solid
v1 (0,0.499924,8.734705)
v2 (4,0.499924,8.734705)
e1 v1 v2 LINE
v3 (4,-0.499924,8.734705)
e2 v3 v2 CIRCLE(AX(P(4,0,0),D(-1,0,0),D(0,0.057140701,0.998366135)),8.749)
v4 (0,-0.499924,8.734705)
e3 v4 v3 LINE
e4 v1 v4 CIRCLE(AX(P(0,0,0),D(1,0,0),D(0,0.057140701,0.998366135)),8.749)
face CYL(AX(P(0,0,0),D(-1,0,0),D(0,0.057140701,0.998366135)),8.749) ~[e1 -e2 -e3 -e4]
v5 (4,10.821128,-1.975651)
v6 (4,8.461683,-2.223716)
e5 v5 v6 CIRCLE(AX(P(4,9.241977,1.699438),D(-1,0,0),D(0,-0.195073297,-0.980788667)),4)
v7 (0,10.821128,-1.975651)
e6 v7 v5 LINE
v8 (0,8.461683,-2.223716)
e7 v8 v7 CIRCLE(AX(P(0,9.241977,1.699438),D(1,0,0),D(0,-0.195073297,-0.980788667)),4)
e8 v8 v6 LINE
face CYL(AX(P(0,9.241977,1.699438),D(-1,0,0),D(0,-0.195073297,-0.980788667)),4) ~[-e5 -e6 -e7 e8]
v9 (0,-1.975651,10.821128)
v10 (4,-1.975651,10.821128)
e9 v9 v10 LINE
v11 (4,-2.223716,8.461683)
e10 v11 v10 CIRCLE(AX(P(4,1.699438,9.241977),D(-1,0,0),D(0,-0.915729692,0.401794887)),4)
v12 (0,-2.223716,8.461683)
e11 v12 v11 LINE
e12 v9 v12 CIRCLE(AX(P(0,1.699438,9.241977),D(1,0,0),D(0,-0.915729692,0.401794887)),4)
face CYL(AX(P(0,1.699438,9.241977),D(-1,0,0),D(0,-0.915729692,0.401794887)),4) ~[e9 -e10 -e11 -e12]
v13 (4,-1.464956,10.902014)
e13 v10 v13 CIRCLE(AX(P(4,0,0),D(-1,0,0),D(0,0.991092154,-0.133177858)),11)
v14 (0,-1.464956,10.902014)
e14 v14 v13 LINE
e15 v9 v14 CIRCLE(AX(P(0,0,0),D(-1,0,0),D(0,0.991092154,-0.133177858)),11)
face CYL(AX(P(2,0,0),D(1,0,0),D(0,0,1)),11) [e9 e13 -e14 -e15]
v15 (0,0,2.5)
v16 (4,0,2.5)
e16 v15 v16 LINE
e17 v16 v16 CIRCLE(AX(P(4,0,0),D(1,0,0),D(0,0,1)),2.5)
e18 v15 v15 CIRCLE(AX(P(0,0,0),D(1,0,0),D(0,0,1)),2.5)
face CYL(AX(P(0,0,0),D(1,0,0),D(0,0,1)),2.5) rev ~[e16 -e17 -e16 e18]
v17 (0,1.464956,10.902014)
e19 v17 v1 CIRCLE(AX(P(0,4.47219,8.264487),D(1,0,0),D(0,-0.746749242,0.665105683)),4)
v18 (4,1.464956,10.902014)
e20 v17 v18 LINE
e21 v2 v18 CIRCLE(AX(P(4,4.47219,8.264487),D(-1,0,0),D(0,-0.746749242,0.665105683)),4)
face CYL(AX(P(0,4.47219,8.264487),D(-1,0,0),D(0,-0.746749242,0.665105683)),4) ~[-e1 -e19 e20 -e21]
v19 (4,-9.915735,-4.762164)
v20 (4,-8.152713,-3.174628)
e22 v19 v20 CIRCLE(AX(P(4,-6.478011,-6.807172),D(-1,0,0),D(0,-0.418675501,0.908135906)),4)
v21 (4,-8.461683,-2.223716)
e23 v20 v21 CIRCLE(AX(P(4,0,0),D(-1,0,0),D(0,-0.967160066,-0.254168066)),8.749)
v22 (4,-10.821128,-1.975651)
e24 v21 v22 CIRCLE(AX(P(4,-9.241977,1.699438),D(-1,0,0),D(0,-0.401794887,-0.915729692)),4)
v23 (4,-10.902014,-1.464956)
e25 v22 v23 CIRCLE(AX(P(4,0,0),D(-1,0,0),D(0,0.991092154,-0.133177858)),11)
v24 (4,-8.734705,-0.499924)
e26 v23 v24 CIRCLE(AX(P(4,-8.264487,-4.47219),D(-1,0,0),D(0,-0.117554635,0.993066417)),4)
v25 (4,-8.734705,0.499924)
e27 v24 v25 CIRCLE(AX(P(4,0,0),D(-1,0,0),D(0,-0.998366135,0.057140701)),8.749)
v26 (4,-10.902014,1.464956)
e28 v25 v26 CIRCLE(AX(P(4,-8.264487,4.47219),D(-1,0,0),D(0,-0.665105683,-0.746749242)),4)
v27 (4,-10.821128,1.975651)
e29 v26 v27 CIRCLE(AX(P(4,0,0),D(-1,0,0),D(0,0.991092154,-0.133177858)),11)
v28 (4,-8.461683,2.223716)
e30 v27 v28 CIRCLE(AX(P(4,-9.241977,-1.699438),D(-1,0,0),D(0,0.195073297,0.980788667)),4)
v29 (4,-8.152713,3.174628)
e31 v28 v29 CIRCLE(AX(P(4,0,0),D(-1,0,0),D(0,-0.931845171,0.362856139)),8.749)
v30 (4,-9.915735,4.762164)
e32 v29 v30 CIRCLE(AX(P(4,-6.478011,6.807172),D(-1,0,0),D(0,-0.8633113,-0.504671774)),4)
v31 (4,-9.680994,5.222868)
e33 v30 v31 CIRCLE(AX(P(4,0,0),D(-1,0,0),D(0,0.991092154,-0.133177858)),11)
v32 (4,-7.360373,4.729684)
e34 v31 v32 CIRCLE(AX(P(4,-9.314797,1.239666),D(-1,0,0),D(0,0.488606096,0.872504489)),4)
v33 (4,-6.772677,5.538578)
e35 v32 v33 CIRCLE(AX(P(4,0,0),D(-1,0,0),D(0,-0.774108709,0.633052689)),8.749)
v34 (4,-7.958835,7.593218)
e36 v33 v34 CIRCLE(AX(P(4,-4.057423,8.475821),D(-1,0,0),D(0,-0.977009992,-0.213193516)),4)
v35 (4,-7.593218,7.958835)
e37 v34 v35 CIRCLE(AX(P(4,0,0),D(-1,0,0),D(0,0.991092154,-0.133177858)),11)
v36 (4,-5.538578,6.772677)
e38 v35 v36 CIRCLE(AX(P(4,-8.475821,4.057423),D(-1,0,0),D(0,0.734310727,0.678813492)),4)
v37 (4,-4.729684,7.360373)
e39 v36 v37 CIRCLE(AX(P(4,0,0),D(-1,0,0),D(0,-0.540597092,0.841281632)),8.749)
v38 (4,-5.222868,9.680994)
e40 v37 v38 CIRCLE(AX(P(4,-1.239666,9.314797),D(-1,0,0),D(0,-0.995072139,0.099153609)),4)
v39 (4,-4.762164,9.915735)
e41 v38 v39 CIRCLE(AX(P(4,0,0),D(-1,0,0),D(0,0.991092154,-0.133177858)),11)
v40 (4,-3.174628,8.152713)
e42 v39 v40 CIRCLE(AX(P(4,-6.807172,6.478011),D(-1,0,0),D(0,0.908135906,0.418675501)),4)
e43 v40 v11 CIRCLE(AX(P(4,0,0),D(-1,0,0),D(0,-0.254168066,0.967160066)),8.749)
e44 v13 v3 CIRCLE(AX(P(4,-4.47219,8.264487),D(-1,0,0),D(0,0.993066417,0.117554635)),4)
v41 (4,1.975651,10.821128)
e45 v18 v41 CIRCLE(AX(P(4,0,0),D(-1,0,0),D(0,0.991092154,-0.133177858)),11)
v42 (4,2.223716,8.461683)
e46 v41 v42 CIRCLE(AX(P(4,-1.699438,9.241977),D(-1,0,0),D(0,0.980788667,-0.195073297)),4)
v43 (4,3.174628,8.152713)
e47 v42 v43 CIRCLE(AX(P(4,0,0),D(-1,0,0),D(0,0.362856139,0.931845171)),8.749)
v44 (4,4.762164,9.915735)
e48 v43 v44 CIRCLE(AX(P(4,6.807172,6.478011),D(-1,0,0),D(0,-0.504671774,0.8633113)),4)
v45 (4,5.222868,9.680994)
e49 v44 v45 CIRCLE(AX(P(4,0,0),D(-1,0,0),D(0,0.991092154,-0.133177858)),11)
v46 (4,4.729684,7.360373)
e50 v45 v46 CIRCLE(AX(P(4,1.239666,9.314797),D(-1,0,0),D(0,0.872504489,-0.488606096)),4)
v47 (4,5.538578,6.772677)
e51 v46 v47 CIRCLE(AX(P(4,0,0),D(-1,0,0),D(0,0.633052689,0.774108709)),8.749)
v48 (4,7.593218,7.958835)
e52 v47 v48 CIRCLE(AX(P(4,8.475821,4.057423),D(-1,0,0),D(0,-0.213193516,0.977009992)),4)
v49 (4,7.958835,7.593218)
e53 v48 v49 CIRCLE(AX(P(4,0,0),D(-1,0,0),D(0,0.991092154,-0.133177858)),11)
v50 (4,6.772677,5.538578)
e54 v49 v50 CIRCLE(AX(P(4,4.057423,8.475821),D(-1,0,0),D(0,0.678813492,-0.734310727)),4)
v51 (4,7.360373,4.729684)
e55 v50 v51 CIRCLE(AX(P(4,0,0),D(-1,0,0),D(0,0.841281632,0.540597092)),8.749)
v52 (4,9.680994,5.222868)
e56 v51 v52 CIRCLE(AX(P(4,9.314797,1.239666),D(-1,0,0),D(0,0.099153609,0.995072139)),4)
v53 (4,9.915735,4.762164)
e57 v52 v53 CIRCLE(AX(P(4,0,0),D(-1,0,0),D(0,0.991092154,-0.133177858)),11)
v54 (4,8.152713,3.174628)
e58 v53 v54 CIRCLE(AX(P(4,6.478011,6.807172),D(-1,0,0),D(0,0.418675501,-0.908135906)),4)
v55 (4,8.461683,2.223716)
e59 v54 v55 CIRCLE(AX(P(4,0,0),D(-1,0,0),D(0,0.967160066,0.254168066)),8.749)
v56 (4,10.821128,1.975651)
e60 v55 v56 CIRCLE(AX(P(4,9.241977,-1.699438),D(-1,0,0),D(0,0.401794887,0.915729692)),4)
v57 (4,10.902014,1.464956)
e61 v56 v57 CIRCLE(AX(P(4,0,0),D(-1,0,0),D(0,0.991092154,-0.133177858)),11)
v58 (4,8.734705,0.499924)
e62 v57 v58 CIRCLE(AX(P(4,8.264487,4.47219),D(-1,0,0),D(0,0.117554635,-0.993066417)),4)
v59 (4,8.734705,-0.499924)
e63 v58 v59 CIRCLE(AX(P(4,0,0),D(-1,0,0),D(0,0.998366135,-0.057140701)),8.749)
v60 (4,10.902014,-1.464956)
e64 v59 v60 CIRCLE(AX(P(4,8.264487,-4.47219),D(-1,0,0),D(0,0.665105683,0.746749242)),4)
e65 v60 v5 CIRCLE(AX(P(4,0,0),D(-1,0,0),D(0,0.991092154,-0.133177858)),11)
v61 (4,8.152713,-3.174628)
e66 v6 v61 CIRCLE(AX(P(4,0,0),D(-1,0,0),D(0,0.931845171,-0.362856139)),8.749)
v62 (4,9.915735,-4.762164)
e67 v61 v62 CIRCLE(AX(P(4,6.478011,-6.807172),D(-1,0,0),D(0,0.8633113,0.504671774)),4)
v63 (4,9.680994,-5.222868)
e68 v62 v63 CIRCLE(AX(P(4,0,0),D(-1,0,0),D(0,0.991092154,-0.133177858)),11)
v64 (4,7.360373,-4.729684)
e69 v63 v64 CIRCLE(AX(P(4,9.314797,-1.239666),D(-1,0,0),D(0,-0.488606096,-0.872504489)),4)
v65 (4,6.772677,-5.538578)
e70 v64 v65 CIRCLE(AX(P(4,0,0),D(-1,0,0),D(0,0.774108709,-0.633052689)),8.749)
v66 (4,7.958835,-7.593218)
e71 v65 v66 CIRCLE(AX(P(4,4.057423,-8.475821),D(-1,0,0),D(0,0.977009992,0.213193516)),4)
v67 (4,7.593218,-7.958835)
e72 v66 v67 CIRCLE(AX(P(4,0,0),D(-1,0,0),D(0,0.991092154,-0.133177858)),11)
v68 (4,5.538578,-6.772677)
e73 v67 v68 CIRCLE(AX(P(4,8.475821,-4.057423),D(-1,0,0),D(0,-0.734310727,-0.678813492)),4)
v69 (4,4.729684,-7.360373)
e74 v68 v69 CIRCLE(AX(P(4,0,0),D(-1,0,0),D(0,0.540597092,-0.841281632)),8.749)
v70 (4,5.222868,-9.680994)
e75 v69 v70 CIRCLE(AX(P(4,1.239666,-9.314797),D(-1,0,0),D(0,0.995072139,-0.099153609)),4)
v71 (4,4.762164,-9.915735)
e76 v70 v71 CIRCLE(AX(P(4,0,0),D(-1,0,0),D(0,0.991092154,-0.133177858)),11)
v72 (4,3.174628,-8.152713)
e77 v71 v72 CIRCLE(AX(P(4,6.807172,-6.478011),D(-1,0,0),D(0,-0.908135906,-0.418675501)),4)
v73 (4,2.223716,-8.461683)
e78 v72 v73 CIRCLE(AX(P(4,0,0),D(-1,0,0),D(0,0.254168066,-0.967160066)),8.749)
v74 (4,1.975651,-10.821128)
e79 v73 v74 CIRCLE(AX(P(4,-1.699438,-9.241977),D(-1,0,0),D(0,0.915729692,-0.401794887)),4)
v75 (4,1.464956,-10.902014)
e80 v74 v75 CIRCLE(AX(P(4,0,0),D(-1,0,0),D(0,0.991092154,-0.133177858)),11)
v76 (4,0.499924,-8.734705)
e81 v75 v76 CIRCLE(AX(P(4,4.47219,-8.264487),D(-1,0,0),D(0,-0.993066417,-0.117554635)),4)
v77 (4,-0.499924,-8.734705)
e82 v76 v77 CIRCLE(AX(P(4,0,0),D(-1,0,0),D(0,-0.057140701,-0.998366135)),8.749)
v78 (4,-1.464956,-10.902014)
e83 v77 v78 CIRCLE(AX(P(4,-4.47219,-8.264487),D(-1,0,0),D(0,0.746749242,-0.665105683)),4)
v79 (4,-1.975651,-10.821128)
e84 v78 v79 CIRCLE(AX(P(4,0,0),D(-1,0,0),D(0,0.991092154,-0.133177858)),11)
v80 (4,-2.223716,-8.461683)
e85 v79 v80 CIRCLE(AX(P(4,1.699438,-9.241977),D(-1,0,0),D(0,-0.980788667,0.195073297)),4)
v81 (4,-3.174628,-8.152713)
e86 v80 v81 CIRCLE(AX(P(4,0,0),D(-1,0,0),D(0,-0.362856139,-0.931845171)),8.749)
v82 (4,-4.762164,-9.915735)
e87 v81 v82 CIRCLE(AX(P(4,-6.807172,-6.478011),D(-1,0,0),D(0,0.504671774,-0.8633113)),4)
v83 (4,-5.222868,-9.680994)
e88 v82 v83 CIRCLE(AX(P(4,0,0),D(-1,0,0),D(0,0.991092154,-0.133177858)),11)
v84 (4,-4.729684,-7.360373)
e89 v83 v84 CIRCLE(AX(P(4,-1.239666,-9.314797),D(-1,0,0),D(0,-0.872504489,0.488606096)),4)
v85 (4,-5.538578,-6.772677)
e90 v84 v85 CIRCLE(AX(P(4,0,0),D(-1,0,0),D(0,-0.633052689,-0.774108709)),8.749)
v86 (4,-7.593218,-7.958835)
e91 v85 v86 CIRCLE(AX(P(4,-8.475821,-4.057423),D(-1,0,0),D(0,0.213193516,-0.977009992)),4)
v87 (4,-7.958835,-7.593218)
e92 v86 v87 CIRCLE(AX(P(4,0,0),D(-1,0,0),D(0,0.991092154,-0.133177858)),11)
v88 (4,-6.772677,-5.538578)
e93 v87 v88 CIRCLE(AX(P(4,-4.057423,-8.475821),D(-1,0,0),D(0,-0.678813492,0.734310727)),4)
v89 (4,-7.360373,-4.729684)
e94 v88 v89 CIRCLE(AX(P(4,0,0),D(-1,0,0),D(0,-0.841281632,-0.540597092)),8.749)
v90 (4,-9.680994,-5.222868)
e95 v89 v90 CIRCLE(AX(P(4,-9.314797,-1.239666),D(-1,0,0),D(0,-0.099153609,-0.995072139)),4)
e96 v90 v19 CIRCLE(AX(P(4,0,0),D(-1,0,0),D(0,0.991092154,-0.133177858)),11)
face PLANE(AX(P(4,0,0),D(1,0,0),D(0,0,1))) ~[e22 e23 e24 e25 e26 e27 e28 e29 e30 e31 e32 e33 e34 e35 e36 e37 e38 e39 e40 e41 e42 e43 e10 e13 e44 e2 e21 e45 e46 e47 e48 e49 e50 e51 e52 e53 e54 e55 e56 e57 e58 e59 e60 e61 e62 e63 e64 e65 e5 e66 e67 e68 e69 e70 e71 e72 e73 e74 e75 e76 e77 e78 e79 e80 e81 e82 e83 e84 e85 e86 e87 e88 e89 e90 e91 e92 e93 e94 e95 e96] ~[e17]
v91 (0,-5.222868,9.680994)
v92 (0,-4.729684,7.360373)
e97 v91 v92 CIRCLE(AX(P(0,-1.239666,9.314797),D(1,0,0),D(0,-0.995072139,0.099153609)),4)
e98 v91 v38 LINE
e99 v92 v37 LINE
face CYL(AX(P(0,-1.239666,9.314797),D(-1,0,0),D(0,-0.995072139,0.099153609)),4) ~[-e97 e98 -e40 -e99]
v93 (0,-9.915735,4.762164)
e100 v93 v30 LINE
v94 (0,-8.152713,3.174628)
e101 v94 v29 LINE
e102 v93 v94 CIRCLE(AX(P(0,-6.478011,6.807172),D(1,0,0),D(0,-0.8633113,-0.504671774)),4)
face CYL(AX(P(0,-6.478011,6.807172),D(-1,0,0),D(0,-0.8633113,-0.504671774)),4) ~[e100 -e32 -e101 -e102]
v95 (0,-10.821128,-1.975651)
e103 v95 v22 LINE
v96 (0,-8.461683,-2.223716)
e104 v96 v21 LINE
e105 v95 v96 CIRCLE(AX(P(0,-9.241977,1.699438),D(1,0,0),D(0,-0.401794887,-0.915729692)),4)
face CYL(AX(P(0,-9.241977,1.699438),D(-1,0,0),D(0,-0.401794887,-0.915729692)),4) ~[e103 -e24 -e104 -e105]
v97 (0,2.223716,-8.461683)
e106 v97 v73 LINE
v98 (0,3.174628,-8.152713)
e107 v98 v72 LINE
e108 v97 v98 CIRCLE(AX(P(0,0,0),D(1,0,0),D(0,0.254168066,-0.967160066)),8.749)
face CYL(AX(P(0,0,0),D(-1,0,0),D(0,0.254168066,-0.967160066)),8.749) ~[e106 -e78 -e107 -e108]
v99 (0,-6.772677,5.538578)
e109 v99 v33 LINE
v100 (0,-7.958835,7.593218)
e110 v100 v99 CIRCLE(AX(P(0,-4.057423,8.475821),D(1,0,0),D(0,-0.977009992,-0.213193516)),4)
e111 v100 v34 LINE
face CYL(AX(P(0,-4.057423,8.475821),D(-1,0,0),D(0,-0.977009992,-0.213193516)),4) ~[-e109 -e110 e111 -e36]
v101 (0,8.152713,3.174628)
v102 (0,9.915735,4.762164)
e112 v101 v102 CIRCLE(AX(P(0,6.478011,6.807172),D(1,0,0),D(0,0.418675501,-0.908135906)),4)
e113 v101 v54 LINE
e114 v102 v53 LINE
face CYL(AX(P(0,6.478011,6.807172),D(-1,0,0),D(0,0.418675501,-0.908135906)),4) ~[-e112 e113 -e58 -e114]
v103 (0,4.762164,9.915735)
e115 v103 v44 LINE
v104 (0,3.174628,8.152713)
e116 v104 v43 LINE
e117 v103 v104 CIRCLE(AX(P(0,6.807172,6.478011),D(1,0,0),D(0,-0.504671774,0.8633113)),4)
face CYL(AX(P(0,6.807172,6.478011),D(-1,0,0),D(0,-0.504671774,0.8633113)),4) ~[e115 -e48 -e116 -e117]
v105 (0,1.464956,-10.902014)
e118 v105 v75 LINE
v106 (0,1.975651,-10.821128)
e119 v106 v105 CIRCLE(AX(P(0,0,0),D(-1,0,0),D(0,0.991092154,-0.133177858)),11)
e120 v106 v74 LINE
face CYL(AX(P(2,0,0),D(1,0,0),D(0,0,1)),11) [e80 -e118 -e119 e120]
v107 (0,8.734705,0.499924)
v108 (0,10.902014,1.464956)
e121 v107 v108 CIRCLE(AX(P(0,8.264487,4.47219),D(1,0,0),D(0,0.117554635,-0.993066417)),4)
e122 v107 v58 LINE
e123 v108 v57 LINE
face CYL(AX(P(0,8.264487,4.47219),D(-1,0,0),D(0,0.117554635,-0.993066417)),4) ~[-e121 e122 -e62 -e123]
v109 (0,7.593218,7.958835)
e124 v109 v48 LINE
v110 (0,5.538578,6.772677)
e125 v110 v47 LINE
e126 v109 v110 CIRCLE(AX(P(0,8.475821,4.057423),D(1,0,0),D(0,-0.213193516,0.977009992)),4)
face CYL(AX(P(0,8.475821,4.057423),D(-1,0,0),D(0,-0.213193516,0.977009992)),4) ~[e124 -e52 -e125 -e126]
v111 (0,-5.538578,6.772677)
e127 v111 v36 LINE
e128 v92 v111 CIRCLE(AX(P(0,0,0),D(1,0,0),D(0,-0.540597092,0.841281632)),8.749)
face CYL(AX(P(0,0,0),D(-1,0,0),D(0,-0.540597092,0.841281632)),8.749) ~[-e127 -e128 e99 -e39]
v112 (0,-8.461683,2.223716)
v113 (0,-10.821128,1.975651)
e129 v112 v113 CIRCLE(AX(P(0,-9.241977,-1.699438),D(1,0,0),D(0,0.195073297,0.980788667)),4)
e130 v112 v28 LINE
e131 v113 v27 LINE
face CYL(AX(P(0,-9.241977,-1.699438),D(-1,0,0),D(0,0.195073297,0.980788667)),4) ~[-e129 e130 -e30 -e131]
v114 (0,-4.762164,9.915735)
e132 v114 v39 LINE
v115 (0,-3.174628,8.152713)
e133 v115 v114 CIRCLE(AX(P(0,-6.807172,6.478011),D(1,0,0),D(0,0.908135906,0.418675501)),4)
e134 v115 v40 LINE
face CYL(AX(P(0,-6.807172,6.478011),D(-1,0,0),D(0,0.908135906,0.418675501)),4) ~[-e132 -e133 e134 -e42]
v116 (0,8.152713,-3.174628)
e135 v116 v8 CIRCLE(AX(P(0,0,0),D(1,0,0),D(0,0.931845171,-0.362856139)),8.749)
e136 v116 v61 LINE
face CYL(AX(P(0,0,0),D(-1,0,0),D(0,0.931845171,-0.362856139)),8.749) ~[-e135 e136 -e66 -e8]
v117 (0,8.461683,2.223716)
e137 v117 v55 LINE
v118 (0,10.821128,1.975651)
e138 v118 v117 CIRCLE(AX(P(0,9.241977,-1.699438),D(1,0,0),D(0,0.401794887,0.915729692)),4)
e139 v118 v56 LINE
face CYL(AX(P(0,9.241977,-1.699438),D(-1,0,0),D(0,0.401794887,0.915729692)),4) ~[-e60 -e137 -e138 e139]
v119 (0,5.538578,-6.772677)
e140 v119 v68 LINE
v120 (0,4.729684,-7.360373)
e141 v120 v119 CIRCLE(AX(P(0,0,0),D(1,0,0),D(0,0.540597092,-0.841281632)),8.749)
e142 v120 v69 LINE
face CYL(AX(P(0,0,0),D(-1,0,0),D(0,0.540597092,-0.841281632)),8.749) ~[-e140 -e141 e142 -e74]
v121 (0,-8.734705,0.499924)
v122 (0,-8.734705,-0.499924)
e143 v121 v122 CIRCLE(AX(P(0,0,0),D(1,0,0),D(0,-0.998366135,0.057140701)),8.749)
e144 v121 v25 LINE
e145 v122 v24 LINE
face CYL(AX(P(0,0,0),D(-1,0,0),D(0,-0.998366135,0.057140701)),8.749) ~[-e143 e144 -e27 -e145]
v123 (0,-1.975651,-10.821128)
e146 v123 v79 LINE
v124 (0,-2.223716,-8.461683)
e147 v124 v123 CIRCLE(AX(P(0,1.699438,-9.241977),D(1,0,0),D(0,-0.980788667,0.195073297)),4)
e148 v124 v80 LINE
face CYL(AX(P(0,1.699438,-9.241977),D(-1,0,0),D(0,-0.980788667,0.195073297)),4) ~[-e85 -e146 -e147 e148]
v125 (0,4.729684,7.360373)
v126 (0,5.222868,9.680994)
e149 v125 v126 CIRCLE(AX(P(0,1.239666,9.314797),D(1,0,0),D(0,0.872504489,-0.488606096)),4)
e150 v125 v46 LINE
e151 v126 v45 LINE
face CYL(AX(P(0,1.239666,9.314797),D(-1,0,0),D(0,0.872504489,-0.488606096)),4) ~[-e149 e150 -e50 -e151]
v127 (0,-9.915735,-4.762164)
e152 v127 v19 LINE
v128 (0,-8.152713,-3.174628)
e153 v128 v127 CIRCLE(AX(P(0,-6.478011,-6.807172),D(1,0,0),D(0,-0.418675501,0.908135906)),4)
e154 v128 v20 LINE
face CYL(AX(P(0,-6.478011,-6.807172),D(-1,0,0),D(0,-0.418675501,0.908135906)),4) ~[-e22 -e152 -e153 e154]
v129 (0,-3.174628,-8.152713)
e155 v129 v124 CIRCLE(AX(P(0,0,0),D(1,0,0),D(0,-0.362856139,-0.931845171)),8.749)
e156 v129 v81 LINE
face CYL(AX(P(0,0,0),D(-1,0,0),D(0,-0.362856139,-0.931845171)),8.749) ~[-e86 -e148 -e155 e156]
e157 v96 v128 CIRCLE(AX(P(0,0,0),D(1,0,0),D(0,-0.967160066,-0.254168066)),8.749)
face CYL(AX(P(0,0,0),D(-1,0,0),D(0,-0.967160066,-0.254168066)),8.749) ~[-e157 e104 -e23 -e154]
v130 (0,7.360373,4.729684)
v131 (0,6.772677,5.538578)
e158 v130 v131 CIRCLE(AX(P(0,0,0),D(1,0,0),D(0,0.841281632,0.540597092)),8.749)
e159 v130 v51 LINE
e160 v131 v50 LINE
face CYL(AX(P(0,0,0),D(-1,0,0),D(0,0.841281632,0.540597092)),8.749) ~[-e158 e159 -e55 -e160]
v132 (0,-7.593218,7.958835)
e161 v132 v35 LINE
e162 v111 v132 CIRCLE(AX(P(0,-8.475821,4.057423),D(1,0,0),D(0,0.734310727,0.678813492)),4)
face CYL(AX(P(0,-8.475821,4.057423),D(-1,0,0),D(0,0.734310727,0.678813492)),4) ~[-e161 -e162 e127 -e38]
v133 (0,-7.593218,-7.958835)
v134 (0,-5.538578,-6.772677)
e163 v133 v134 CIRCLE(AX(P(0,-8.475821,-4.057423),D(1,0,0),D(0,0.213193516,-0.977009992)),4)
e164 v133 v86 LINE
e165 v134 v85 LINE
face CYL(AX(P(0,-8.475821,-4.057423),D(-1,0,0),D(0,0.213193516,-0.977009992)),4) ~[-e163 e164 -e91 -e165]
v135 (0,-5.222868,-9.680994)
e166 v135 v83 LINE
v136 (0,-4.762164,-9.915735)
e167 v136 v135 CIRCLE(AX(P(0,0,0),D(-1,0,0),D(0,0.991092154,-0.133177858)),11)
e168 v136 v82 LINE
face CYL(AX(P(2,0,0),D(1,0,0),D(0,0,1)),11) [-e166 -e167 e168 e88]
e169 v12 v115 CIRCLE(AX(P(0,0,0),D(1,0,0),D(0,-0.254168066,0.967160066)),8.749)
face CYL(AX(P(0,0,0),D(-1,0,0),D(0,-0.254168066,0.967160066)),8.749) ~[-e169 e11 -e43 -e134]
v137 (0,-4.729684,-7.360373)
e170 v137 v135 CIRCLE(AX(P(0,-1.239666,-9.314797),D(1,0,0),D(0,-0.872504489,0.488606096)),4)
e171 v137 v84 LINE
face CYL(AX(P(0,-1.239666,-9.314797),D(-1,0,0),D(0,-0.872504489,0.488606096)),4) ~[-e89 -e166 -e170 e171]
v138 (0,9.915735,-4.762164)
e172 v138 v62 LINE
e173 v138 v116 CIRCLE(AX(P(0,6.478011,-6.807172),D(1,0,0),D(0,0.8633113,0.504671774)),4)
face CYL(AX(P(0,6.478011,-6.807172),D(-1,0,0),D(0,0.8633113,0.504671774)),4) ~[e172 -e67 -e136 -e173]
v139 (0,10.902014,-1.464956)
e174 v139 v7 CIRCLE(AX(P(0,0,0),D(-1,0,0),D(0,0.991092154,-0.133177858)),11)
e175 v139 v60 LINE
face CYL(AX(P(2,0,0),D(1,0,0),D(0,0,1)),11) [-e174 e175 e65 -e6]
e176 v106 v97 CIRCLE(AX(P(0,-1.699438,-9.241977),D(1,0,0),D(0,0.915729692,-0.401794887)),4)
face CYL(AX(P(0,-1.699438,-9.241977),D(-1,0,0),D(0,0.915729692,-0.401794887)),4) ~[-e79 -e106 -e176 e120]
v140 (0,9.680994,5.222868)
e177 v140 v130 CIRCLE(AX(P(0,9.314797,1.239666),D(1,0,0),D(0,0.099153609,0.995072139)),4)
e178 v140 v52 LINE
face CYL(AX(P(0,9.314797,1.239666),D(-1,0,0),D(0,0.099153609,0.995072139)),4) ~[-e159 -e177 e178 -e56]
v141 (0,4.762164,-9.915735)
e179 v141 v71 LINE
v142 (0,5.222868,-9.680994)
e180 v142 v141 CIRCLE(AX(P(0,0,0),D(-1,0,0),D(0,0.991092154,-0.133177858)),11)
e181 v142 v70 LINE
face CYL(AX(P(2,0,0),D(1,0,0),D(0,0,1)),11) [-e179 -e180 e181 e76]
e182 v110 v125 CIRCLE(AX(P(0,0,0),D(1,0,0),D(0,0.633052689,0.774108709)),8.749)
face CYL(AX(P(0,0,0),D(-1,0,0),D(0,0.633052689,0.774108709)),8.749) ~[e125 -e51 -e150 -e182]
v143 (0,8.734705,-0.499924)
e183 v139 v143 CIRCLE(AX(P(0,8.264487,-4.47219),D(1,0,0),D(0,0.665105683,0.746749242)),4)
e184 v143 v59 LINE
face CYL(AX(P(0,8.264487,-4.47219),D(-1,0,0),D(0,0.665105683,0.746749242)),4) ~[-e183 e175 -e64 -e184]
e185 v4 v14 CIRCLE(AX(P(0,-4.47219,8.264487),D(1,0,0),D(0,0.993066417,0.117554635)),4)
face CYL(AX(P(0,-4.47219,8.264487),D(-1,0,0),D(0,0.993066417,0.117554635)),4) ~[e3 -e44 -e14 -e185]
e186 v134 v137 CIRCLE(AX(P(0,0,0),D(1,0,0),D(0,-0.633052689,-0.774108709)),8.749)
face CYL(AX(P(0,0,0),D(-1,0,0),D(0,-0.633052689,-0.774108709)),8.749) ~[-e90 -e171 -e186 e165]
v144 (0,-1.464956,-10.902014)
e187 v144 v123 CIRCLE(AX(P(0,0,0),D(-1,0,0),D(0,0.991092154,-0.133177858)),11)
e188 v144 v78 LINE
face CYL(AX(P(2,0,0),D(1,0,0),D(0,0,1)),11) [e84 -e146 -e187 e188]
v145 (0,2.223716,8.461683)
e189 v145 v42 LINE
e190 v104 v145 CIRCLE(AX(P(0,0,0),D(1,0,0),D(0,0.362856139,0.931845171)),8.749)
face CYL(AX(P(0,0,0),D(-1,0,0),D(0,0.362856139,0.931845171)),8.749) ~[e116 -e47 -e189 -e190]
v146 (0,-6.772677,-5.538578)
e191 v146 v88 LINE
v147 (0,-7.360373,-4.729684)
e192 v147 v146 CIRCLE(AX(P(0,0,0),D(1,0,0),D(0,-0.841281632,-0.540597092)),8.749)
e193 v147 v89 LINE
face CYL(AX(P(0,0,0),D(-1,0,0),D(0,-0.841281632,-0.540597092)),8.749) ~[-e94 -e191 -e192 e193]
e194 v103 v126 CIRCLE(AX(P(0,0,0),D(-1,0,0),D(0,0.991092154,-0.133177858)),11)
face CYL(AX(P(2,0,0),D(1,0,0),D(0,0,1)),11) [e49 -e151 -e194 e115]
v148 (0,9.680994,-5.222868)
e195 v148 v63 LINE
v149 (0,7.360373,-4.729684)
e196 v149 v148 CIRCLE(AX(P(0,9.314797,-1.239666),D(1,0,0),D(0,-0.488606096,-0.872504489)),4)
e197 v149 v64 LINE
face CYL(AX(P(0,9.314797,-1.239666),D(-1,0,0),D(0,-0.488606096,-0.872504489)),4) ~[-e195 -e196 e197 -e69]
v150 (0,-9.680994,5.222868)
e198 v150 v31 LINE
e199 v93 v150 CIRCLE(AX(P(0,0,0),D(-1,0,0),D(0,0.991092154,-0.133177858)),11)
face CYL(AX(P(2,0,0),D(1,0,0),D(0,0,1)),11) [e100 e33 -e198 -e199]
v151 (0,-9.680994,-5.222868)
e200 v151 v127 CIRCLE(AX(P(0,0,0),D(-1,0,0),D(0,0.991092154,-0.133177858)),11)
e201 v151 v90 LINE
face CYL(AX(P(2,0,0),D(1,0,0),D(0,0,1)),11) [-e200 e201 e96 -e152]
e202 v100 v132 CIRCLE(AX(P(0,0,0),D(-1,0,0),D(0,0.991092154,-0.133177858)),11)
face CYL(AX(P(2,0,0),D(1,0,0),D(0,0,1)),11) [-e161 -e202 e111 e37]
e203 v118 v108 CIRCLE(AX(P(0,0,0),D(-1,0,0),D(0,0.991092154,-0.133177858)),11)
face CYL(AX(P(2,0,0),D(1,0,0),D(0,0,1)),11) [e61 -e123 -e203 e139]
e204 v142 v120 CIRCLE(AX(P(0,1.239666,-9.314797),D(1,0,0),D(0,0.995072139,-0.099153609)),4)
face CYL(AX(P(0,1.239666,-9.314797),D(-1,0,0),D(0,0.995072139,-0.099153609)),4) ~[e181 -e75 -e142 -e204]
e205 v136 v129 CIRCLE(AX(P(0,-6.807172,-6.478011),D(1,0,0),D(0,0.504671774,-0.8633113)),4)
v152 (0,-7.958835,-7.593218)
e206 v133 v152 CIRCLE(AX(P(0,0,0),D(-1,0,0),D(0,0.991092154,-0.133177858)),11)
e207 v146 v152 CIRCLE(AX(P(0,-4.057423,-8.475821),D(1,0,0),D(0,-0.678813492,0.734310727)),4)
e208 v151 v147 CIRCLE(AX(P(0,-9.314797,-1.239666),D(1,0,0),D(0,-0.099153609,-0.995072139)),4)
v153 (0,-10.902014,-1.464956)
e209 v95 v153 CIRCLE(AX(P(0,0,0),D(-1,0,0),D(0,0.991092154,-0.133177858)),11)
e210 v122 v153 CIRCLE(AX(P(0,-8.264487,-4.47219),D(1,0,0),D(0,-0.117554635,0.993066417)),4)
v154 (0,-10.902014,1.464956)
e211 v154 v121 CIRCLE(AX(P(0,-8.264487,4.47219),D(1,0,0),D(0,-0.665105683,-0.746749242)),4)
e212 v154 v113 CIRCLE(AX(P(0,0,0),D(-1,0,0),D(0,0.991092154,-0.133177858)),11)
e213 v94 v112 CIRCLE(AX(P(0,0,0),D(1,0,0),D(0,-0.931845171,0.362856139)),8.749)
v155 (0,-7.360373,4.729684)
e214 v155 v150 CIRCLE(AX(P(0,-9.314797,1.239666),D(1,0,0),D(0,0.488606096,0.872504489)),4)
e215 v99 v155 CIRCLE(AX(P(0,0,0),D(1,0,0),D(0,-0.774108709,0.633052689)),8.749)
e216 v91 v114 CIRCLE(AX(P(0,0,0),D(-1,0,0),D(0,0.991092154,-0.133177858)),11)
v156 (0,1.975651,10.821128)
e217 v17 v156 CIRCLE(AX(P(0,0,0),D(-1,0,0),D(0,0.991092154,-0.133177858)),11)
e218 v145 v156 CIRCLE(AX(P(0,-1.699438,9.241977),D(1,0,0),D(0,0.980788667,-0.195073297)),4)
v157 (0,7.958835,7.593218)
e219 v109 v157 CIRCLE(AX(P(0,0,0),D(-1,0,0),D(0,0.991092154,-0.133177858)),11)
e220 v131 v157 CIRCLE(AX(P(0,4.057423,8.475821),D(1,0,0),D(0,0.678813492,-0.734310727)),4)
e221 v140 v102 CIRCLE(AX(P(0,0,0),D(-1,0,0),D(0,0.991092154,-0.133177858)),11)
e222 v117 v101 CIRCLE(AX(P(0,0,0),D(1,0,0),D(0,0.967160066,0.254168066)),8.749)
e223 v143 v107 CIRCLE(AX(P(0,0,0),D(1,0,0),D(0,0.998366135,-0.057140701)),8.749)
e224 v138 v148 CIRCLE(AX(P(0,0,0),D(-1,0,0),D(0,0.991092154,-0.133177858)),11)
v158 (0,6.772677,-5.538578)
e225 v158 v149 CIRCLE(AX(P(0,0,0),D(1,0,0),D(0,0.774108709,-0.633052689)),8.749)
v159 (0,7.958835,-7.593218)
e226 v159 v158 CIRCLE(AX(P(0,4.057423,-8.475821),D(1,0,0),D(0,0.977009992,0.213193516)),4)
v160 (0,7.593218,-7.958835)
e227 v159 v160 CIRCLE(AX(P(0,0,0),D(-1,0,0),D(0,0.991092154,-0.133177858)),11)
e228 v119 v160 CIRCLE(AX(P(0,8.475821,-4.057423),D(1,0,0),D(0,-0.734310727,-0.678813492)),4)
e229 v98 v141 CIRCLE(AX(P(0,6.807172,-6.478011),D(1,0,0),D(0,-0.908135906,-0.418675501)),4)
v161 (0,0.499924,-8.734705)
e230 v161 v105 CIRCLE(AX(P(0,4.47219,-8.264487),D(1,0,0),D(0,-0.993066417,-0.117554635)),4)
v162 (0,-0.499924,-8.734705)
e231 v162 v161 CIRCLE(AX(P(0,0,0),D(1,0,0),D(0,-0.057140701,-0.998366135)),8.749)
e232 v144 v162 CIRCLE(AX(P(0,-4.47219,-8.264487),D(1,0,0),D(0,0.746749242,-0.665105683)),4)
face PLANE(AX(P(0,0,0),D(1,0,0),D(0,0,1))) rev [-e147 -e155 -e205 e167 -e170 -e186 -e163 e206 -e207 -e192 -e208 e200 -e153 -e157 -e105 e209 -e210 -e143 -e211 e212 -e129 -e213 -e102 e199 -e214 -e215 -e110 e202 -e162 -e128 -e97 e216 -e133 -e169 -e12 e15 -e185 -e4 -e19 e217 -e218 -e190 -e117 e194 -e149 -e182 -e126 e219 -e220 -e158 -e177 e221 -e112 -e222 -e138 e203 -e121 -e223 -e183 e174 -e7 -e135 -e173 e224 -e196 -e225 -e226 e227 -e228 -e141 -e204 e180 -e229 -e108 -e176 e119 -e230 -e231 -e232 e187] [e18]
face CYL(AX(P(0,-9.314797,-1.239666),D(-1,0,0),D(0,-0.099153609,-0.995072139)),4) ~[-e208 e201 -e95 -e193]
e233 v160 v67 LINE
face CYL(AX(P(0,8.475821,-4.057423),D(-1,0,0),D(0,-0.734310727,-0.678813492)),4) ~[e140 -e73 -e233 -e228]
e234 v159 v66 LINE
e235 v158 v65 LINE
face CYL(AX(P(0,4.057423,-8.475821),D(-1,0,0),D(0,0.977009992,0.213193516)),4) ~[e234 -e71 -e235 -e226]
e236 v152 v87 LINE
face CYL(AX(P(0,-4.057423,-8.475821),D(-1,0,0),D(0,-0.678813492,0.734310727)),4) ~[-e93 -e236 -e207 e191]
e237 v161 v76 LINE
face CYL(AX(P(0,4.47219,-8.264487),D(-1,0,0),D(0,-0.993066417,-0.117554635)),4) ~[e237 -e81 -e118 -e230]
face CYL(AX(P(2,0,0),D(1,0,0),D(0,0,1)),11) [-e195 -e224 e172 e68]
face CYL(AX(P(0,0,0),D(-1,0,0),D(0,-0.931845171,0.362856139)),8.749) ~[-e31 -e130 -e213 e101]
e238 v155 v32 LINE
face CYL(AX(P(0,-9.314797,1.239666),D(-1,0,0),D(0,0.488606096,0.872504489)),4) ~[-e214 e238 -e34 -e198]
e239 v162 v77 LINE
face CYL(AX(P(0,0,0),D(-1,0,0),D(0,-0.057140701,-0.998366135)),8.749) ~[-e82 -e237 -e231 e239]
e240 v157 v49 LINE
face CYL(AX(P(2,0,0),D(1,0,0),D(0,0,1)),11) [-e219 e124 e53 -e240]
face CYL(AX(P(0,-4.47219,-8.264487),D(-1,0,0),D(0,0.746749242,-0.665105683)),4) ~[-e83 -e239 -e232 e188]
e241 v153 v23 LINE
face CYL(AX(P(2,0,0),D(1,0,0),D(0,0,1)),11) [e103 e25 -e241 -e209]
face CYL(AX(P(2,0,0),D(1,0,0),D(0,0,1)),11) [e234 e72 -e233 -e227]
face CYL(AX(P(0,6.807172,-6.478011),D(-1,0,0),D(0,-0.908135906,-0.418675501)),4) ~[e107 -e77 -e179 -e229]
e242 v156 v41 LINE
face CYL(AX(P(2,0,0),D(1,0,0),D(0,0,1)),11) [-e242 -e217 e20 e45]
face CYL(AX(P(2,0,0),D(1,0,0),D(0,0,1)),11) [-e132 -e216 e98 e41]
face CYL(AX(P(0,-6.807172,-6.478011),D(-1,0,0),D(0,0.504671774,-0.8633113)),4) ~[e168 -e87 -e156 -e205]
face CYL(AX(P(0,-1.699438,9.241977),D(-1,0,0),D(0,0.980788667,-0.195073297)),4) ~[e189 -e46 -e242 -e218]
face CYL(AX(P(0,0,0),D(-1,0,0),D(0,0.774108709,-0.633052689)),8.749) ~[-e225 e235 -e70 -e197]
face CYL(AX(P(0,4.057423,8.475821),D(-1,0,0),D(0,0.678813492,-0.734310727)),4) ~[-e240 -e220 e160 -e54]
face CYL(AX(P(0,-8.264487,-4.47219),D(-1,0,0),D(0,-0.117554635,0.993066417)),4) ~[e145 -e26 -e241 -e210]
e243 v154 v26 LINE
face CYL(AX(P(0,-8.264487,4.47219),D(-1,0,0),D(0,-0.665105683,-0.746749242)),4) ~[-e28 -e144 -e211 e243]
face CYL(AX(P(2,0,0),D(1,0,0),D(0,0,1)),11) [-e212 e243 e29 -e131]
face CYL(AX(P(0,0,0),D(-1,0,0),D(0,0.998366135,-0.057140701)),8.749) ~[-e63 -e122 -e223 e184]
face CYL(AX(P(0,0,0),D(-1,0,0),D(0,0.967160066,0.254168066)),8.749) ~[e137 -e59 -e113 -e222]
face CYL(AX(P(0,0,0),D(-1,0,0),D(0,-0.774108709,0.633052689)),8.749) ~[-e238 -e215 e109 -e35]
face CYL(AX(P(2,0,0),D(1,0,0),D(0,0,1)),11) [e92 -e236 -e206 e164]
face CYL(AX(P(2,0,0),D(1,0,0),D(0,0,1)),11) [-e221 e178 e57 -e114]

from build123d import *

# Parameters (mm, degrees)
BASPROSKE_W     = 4
BASPROSKE_H     = 11
TOOTHCUT_DEPTH  = 17.062378404
TEETHCUTS_COUNT = 20
TEETHCUTS_ANGLE = 342
BORSKE_R        = 2.5
BORE_DEPTH      = 50.0000508


with BuildPart() as part:
    # BasProSke → Base-Revolve (revolve)
    with BuildSketch(Plane(origin=(0, 0, 0), x_dir=(1, 0, 0), z_dir=(0, 1, 0)), mode=Mode.PRIVATE) as base_revolve_sk:
        with Locations((2, 5.5)):
            Rectangle(BASPROSKE_W, BASPROSKE_H)
    revolve(base_revolve_sk.sketch.rotate(Axis((-10, 0, 0), (1, 0, 0)), 180), axis=Axis((-10, 0, 0), (1, 0, 0)))

    # TooCutSke → ToothCut (cut, through all)
    with BuildSketch(Plane(origin=(0, 0, 0), x_dir=(0, 0, -1), z_dir=(1, 0, 0))):
        with BuildLine():
            ThreePointArc((0.499924007, 8.734705318), (0, 8.749), (-0.499924007, 8.734705318))
            ThreePointArc((-0.499924007, 8.734705318), (-0.824302243, 9.905497836), (-1.485192705, 10.924909509))
            ThreePointArc((-1.485192705, 10.924909509), (0, 11.0254), (1.485192705, 10.924909509))
            ThreePointArc((1.485192705, 10.924909509), (0.824302243, 9.905497836), (0.499924007, 8.734705318))
        make_face()
    toothcut = extrude(amount=TOOTHCUT_DEPTH, mode=Mode.SUBTRACT)

    # TeethCuts: ToothCut ×20 about axis
    teethcuts_axis = Axis((-10, 0, 0), (1, 0, 0))
    for i in range(1, TEETHCUTS_COUNT):
        add(toothcut.rotate(teethcuts_axis, i * TEETHCUTS_ANGLE / (TEETHCUTS_COUNT - 1)), mode=Mode.SUBTRACT)

    # BorSke → Bore (cut, symmetric)
    with BuildSketch(Plane(origin=(0, 0, 0), x_dir=(0, 0, -1), z_dir=(1, 0, 0))):
        with Locations(Location((0, 0, 0), (0, 0, 180))):
            Circle(BORSKE_R)
    extrude(amount=BORE_DEPTH, both=True, mode=Mode.SUBTRACT)


solid = part.part
